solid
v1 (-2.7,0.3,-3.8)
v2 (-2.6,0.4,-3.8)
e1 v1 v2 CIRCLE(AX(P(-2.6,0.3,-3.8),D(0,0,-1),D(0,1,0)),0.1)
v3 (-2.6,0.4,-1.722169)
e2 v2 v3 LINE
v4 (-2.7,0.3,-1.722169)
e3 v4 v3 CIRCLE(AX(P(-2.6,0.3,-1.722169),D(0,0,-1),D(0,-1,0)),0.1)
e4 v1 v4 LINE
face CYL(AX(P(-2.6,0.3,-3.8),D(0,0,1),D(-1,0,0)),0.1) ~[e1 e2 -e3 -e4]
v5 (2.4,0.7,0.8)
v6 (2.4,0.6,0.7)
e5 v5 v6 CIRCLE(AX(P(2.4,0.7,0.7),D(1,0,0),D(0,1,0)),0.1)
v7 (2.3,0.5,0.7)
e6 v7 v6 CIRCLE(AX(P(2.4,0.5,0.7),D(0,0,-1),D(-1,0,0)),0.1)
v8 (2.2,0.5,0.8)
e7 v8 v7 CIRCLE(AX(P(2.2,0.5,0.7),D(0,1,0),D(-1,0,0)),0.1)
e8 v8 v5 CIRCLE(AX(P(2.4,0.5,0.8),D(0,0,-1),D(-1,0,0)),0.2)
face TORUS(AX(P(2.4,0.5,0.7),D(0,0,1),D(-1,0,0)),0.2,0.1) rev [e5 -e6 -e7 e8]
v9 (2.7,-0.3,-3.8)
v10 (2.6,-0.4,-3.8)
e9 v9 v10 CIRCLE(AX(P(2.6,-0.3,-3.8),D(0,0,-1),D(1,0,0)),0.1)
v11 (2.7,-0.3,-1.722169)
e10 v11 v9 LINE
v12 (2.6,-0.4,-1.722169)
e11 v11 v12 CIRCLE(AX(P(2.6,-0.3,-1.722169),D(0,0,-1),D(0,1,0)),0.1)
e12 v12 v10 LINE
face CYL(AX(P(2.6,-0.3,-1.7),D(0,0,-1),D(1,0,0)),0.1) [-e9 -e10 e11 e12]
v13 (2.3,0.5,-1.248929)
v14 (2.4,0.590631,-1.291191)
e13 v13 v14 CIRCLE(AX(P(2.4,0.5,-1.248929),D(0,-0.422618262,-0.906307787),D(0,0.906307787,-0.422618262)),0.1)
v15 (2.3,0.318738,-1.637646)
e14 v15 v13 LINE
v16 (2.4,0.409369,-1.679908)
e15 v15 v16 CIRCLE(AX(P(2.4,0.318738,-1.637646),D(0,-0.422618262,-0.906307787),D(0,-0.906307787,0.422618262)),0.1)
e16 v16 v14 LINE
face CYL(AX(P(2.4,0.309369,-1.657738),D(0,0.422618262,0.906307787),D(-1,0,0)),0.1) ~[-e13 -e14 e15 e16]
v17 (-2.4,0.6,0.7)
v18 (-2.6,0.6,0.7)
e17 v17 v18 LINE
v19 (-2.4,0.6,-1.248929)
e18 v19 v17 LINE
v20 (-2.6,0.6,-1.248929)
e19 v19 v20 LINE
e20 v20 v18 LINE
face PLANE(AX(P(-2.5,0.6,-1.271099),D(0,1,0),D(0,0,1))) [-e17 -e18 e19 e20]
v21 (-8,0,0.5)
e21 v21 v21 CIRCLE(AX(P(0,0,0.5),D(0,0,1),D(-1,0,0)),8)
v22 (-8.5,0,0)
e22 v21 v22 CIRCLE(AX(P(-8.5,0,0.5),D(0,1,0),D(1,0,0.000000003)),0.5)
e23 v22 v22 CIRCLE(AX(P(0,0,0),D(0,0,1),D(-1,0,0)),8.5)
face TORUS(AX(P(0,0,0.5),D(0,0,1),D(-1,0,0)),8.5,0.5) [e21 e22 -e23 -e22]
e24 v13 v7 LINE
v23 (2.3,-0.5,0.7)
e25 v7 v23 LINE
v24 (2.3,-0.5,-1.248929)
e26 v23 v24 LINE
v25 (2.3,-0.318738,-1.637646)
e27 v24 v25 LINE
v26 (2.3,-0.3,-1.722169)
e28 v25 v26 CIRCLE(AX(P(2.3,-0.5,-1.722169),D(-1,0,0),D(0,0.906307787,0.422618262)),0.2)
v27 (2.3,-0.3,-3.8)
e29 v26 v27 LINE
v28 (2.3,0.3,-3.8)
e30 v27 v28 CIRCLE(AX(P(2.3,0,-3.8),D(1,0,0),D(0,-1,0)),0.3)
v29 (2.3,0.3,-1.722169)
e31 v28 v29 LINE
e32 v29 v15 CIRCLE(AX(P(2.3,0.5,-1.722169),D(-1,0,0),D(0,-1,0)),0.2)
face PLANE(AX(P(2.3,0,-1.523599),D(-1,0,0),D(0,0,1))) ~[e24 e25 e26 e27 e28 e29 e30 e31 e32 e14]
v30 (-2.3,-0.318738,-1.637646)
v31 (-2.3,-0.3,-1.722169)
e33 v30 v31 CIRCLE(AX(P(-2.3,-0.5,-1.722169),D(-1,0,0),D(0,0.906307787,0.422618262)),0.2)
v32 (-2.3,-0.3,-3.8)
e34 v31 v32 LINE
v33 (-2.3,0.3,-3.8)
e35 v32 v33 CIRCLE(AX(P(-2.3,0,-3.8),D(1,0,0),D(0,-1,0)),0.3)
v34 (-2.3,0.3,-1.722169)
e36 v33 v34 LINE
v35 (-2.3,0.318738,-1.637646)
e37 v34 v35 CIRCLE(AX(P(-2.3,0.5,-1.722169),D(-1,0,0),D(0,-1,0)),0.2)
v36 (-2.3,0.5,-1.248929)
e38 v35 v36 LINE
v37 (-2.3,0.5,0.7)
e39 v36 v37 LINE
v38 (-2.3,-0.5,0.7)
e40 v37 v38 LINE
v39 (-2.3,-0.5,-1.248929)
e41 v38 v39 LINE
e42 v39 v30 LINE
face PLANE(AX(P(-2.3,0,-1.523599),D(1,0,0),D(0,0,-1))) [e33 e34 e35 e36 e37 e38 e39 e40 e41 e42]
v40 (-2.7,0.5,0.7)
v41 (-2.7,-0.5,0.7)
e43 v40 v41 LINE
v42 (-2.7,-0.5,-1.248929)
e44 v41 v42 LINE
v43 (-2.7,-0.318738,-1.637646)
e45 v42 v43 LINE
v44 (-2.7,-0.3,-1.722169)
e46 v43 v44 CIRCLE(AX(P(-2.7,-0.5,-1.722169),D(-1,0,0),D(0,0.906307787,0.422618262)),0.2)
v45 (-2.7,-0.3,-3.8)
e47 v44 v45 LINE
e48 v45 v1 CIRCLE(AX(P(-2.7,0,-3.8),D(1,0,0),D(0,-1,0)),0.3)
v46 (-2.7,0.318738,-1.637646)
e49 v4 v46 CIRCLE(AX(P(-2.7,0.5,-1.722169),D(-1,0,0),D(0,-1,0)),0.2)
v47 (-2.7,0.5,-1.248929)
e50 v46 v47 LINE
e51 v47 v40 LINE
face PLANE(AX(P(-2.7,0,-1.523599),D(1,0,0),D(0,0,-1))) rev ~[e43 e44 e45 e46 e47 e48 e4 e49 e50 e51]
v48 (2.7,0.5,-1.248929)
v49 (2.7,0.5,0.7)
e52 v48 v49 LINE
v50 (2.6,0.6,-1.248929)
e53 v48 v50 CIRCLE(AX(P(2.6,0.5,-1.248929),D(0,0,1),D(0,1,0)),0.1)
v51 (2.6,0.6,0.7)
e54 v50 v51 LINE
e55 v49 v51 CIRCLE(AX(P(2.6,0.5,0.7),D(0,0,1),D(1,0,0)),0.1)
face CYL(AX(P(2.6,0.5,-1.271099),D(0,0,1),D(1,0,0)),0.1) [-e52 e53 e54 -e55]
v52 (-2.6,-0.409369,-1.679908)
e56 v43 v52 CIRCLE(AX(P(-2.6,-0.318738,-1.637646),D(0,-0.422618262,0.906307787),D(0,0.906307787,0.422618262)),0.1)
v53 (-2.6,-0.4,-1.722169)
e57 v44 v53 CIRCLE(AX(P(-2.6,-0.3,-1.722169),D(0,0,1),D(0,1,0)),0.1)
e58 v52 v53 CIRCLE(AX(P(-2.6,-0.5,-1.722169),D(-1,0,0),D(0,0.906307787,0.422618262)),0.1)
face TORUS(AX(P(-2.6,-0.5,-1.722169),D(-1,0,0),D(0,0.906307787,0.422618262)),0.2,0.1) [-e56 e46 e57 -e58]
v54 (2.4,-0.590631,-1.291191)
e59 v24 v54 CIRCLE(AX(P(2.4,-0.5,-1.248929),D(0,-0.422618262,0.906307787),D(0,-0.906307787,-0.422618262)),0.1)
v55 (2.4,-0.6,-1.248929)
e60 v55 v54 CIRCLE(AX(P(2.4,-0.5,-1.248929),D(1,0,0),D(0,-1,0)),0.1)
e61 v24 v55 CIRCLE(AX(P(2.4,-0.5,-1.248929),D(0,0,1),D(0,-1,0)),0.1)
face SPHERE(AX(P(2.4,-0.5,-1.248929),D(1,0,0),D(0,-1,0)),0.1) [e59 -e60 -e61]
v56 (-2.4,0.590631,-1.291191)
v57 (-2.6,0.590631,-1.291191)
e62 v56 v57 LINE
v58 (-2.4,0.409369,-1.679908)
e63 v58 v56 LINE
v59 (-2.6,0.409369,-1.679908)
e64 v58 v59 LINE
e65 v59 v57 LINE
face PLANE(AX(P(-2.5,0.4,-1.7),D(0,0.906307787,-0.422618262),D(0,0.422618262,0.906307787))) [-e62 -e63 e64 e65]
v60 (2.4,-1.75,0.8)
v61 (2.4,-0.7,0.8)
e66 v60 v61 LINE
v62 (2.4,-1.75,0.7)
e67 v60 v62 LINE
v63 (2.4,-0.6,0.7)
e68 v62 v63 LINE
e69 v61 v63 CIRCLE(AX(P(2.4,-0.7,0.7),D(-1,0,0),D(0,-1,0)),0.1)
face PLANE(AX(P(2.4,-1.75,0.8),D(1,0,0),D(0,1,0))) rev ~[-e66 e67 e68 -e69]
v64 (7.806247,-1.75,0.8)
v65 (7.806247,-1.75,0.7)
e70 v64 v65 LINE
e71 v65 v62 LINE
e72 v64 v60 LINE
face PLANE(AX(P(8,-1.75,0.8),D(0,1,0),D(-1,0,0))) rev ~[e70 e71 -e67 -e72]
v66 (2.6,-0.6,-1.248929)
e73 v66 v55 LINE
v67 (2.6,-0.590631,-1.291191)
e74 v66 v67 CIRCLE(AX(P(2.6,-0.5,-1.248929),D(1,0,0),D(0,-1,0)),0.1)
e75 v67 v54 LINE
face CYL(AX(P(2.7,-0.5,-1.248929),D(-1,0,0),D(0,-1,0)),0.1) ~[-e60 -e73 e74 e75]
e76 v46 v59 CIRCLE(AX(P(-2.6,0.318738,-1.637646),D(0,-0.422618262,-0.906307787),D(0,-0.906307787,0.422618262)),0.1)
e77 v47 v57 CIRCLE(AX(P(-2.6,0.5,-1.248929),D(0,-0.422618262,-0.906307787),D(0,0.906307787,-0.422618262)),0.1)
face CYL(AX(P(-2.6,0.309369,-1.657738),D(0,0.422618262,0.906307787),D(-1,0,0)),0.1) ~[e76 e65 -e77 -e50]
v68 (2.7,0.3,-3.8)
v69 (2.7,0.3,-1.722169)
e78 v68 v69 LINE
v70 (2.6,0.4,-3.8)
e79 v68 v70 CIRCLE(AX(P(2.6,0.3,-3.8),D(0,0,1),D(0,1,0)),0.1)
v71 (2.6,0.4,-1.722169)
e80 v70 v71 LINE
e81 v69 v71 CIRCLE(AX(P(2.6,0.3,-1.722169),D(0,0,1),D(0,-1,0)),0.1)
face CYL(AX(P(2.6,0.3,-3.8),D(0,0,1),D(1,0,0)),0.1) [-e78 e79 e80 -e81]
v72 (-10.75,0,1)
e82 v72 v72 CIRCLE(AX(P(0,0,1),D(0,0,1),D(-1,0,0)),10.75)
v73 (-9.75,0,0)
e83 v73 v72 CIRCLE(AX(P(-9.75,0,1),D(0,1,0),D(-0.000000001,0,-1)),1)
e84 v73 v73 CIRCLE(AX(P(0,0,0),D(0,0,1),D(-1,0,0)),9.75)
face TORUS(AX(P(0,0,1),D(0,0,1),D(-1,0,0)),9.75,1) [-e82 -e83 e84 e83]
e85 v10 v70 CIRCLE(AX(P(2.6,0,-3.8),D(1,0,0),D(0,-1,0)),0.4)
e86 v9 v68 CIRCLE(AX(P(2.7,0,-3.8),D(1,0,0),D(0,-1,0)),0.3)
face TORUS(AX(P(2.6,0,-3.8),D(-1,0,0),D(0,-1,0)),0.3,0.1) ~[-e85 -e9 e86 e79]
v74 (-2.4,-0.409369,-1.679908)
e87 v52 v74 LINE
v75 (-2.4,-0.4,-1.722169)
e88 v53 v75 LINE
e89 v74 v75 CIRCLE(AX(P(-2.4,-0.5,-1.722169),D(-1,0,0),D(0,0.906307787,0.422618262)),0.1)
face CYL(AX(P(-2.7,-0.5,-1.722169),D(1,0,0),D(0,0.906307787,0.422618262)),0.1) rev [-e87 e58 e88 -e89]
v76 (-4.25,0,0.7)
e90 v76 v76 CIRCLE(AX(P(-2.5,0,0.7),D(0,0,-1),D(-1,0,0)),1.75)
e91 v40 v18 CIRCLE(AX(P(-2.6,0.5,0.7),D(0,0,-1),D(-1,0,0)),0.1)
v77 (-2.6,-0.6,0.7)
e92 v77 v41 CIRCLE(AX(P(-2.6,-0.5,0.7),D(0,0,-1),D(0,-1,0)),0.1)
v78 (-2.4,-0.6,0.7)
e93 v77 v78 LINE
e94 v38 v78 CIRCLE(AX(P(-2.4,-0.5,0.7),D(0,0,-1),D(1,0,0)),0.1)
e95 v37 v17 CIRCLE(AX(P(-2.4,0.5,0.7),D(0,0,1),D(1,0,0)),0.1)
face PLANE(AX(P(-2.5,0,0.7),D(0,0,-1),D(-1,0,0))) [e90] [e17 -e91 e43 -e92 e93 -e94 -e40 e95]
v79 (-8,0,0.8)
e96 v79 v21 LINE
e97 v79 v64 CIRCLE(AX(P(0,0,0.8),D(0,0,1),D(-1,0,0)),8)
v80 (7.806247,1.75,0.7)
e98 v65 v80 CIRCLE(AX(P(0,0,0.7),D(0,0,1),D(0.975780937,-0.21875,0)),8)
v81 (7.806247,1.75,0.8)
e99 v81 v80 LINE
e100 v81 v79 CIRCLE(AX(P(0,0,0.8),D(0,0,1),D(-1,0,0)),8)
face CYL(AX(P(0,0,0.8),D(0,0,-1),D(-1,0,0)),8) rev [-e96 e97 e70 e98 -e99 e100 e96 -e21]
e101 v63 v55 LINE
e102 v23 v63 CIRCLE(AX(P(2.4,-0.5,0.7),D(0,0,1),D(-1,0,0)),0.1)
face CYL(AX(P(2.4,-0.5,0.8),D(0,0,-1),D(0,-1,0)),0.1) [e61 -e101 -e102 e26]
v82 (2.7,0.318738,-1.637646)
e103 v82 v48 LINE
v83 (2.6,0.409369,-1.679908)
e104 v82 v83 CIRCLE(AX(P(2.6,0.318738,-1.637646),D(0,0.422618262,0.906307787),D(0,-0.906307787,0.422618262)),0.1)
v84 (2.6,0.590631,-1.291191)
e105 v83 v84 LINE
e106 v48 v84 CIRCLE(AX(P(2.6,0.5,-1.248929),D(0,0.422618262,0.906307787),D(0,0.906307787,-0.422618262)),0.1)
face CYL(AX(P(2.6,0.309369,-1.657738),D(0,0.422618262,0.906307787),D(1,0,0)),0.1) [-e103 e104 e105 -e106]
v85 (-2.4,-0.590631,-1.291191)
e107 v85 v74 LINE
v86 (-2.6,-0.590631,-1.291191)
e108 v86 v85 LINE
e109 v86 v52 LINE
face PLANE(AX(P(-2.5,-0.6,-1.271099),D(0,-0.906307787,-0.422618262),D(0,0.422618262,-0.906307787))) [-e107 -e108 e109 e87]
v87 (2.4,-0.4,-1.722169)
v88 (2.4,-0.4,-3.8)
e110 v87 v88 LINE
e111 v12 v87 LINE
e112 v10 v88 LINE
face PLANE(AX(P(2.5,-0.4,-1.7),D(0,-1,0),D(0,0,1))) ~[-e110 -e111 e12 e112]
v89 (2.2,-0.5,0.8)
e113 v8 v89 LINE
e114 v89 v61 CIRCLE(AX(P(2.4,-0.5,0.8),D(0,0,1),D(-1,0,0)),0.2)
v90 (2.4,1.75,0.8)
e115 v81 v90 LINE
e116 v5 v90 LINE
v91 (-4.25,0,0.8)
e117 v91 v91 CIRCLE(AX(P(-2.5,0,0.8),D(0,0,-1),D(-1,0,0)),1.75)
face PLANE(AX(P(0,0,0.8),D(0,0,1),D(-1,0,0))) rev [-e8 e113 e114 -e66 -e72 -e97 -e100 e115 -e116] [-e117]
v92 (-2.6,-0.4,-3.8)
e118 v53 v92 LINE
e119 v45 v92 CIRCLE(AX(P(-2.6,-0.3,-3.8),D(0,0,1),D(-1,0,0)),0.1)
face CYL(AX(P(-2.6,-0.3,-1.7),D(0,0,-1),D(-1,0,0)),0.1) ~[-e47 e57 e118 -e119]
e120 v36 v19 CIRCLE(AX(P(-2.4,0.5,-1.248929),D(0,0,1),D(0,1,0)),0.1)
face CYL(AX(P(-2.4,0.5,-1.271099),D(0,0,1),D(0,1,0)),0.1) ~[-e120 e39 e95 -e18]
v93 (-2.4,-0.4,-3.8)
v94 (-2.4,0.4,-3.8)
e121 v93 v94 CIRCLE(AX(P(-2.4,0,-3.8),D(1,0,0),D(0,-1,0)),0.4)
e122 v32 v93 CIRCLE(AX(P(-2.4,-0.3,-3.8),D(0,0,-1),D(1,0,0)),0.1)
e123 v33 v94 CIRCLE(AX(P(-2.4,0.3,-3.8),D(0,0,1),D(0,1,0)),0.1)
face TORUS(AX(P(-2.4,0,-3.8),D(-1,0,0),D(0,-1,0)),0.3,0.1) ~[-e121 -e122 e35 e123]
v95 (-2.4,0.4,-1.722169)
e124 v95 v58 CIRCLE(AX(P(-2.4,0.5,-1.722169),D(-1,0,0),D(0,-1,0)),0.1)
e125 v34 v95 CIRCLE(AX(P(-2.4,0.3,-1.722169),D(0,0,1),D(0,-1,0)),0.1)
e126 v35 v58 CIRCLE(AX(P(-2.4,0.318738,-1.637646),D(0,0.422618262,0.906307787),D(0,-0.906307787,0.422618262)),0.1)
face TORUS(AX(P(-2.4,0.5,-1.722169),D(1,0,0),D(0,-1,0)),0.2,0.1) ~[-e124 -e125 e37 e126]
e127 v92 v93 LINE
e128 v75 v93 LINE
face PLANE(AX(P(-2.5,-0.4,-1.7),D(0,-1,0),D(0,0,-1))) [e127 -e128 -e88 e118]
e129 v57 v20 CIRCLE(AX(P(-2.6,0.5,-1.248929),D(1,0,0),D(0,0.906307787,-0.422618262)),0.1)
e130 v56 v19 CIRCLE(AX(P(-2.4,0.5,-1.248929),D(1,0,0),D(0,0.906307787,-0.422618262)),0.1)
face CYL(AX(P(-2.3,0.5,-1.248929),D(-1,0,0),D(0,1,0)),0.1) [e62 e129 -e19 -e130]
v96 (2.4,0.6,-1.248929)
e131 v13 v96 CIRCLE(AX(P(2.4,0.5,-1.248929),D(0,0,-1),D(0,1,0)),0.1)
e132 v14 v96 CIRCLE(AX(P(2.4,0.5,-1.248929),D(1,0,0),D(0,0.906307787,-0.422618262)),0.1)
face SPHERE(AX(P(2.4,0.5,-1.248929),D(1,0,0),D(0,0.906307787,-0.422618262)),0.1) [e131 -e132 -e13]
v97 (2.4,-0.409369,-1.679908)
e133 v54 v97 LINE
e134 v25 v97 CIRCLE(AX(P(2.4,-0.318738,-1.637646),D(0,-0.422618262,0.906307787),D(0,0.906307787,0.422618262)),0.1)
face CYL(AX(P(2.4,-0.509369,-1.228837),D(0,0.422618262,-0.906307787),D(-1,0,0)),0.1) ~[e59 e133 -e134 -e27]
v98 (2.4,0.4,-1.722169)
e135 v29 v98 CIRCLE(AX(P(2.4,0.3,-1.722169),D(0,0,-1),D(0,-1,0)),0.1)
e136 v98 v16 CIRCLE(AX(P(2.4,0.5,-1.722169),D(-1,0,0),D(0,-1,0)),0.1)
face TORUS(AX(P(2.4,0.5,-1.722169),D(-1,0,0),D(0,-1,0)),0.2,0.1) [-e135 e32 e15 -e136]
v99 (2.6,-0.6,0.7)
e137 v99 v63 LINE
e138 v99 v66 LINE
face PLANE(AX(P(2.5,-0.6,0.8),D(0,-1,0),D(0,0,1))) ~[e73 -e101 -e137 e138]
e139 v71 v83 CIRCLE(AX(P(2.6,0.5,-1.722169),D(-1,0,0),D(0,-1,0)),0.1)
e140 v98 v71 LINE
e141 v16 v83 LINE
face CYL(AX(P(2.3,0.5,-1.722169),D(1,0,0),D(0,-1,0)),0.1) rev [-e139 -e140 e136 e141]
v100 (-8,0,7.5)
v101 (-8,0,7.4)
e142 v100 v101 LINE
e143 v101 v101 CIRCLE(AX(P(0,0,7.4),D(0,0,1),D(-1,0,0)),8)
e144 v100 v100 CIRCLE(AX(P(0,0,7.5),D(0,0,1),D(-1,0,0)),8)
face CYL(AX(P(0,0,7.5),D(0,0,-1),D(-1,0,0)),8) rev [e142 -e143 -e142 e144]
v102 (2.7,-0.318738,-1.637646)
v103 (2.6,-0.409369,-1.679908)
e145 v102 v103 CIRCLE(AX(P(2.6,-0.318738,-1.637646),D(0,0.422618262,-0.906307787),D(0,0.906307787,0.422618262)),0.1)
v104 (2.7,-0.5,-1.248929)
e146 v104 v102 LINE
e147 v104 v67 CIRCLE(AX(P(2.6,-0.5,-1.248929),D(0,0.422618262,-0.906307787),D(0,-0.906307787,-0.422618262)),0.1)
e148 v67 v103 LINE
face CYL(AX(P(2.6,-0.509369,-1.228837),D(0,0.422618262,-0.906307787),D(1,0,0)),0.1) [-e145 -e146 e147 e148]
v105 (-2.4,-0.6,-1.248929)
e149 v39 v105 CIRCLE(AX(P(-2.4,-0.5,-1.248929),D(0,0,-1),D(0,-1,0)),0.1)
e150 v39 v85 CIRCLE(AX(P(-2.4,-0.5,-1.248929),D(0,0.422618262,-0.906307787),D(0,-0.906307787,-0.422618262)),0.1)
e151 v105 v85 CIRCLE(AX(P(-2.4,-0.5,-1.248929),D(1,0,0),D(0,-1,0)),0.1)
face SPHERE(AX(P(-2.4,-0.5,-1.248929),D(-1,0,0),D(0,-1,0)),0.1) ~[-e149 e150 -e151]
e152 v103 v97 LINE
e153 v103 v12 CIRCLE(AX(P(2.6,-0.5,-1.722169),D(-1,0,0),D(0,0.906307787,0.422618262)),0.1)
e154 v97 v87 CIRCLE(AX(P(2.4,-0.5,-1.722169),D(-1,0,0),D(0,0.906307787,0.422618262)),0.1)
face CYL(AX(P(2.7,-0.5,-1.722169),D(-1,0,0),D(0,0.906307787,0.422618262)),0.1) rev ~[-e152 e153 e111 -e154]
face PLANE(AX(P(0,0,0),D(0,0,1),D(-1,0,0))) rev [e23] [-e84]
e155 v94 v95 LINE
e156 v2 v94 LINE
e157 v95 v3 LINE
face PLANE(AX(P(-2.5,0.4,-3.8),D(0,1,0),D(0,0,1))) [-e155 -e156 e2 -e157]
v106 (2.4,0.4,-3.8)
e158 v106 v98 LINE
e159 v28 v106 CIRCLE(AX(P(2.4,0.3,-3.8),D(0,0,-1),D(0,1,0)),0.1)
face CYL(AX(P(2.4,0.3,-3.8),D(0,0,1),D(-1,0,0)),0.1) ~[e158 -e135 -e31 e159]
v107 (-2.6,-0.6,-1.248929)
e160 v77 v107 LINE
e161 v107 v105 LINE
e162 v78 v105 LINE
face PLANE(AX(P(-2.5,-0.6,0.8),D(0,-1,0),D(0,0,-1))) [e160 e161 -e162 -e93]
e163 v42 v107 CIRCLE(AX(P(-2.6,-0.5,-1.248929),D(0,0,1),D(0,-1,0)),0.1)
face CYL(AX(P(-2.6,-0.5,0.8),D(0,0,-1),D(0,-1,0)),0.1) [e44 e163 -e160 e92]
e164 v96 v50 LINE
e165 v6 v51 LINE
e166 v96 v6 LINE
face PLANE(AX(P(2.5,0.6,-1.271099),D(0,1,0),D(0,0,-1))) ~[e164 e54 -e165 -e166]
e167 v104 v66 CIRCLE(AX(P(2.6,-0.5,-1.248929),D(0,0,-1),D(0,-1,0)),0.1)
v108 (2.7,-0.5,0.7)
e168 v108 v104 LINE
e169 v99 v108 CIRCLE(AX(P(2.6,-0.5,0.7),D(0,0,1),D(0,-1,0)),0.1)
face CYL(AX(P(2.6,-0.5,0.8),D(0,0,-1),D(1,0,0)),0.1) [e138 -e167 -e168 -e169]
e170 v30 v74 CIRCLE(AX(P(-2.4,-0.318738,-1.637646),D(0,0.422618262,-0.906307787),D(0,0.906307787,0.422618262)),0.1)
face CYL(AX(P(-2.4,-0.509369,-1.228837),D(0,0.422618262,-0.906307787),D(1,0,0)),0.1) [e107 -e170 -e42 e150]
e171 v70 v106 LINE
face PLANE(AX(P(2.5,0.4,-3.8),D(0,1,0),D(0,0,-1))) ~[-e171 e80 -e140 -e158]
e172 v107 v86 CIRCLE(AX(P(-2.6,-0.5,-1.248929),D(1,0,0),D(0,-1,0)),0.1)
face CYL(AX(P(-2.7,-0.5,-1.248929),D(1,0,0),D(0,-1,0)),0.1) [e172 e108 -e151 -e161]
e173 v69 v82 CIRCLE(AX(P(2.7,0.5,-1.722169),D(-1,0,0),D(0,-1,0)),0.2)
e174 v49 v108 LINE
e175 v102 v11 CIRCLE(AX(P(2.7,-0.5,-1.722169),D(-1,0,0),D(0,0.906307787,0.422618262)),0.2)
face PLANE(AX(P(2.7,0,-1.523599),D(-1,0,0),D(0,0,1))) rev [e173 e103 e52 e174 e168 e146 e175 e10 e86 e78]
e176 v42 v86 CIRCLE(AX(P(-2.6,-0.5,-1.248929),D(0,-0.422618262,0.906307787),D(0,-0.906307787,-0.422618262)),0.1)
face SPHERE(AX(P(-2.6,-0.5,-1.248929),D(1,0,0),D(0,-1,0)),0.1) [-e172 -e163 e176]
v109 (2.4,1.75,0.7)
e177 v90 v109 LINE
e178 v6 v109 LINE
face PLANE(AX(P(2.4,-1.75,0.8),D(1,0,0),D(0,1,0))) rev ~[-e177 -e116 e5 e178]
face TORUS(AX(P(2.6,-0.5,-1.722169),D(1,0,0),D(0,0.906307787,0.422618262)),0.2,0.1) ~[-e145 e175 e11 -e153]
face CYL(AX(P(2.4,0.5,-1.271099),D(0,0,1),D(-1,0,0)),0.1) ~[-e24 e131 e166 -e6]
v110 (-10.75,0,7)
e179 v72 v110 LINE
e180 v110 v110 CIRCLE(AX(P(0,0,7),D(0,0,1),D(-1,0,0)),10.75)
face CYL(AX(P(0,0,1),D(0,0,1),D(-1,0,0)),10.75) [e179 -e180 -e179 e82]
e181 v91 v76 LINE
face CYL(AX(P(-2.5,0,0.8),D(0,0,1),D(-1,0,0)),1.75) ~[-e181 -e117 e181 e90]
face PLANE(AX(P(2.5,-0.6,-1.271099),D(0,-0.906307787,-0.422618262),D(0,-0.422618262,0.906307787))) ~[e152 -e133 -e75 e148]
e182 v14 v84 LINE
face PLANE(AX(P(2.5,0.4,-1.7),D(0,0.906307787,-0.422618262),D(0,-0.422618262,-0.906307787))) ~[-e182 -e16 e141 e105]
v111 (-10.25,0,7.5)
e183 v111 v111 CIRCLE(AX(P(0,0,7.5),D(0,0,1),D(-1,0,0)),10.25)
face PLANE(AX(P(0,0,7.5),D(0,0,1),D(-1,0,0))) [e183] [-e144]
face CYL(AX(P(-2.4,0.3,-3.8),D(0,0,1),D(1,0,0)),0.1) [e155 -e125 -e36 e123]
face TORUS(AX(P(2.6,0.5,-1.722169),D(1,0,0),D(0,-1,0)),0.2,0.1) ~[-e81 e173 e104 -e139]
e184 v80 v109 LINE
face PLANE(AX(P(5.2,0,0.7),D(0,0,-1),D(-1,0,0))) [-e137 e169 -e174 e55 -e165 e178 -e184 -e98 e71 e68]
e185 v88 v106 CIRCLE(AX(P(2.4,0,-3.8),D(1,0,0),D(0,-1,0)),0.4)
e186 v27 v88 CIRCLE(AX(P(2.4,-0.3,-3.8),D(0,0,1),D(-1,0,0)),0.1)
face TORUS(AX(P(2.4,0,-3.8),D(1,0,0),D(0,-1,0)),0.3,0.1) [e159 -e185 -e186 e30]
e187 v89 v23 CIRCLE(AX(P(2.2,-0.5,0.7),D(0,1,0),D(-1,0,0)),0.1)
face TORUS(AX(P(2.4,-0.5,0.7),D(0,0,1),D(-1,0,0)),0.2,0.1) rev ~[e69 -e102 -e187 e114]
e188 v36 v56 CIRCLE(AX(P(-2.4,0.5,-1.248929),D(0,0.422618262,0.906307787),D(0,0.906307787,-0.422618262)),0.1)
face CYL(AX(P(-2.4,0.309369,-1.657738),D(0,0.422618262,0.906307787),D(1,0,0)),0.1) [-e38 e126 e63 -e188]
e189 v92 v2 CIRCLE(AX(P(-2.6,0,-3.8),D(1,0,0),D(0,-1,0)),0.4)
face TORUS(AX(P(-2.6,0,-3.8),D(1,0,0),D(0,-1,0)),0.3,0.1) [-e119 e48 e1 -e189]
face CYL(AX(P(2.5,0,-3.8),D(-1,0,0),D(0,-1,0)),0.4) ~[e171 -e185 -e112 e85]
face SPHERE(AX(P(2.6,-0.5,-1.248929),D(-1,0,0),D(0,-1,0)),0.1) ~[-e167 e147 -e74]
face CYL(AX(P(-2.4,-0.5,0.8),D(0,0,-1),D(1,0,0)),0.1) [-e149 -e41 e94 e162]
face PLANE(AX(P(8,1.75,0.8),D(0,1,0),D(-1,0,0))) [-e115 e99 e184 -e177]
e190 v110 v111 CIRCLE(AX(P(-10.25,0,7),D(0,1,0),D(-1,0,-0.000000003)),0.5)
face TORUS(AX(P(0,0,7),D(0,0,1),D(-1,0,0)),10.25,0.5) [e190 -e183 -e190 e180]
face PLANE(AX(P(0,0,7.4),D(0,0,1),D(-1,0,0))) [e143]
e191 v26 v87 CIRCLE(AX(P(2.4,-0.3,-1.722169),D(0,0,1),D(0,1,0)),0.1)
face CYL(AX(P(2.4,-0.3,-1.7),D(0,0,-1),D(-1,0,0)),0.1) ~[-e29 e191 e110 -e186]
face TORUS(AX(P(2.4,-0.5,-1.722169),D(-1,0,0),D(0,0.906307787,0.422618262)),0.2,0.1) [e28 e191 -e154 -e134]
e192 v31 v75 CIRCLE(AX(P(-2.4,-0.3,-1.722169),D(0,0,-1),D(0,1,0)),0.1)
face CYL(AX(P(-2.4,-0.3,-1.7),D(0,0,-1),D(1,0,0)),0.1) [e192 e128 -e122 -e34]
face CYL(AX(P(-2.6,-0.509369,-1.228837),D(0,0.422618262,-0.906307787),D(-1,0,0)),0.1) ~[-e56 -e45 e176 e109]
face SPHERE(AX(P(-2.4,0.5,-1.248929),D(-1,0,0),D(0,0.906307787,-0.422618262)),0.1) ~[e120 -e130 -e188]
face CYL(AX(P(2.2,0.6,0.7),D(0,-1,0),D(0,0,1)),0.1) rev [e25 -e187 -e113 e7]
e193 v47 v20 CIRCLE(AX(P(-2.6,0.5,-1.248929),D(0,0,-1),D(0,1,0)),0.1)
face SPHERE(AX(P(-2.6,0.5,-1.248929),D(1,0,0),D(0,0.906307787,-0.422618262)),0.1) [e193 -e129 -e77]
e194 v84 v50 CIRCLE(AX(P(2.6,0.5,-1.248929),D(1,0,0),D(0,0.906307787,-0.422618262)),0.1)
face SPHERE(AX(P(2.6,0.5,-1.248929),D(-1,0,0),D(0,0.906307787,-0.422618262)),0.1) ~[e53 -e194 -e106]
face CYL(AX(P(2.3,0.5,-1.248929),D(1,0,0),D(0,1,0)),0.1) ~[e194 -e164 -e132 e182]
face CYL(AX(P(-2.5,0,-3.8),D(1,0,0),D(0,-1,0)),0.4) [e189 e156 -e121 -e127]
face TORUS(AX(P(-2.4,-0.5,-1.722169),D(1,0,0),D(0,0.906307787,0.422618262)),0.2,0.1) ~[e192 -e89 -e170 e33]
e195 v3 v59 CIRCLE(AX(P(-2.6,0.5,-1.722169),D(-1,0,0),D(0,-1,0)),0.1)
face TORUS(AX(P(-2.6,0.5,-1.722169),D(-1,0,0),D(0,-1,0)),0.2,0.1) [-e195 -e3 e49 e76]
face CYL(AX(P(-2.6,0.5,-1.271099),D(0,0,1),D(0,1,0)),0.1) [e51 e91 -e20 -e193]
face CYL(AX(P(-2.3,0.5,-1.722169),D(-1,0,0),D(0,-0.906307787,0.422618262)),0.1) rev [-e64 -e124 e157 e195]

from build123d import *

# Parameters (mm, degrees)
EXTRUDE_1_DEPTH        = 0.2
FILLET_1_R             = 0.1
FILLET_1_OF_MIRROR_1_R = 0.1
SKETCH_10_R            = 1.75
SKETCH_10_W            = 5.6
SKETCH_10_H            = 3.5
EXTRUDE_2_DEPTH        = 0.1


with BuildPart() as part:
    # Эскиз1 → Повернуть1 (revolve)
    with BuildSketch(Plane(origin=(0, 0, 0), x_dir=(1, 0, 0), z_dir=(0, 1, 0))):
        with BuildLine():
            Line((0, -0.8), (-8, -0.8))
            Line((-8, -0.8), (-8, -0.5))
            ThreePointArc((-8, -0.5), (-8.146446609, -0.146446609), (-8.5, 0))
            Line((-8.5, 0), (-9.75, 0))
            ThreePointArc((-9.75, 0), (-10.457106781, -0.292893219), (-10.75, -1))
            Line((-10.75, -1), (-10.75, -7))
            ThreePointArc((-10.75, -7), (-10.603553391, -7.353553391), (-10.25, -7.5))
            Line((-10.25, -7.5), (-8, -7.5))
            Line((-8, -7.5), (-8, -7.4))
            Line((-8, -7.4), (0, -7.4))
            Line((0, -7.4), (0, -0.8))
        make_face()
    revolve(axis=Axis((0, 0, 0), (0, 0, 1)))

    # Эскиз9 → Бобышка-Вытянуть1 (add, symmetric)
    with BuildSketch(Plane(origin=(-2.5, 0, 0), x_dir=(0, 0, -1), z_dir=(1, 0, 0))):
        with BuildLine():
            Line((-0.8, 0.6), (-0.8, -0.6))
            Line((-0.8, -0.6), (1.271098616, -0.6))
            Line((1.271098616, -0.6), (1.7, -0.4))
            Line((1.7, -0.4), (3.8, -0.4))
            ThreePointArc((3.8, -0.4), (4.2, 0), (3.8, 0.4))
            Line((3.8, 0.4), (1.7, 0.4))
            Line((1.7, 0.4), (1.271098616, 0.6))
            Line((1.271098616, 0.6), (-0.8, 0.6))
        make_face()
    extrude_1 = extrude(amount=EXTRUDE_1_DEPTH, both=True)

    # Скругление1
    fillet_1_edges = [part.edges().sort_by_distance(p)[0] for p in [
        (-2.7, -0.6, -0.235549308),
        (-2.5, -0.6, 0.8),
        (-2.7, -0.5, -1.485549308),
        (-2.5, -0.6, -1.271098616),
        (-2.7, -0.4, -2.75),
        (-2.5, -0.4, -1.7),
        (-2.7, 0, -4.2),
        (-2.7, 0.4, -2.75),
        (-2.7, 0.5, -1.485549308),
        (-2.5, 0.4, -1.7),
        (-2.7, 0.6, -0.235549308),
        (-2.5, 0.6, -1.271098616),
        (-2.7, 0, 0.8),
        (-2.5, 0.6, 0.8),
        (-2.3, -0.6, -0.235549308),
        (-2.3, -0.5, -1.485549308),
        (-2.3, -0.4, -2.75),
        (-2.3, 0, -4.2),
        (-2.3, 0.4, -2.75),
        (-2.3, 0.5, -1.485549308),
        (-2.3, 0.6, -0.235549308),
        (-2.3, 0, 0.8),
    ]]
    fillet(fillet_1_edges, radius=FILLET_1_R)

    # Зеркальное отражение1: Бобышка-Вытянуть1 across plane
    add(extrude_1.mirror(Plane(origin=(0, 0, 0), x_dir=(0, 0, 1), z_dir=(1, 0, 0))))

    # Скругление1 of Зеркальное отражение1
    fillet_1_of_mirror_1_edges = [part.edges().sort_by_distance(p)[0] for p in [
        (2.7, -0.6, -0.235549308),
        (2.5, -0.6, 0.8),
        (2.7, -0.5, -1.485549308),
        (2.5, -0.6, -1.271098616),
        (2.7, -0.4, -2.75),
        (2.5, -0.4, -1.7),
        (2.7, 0, -4.2),
        (2.7, 0.4, -2.75),
        (2.7, 0.5, -1.485549308),
        (2.5, 0.4, -1.7),
        (2.7, 0.6, -0.235549308),
        (2.5, 0.6, -1.271098616),
        (2.7, 0, 0.8),
        (2.5, 0.6, 0.8),
        (2.3, -0.6, -0.235549308),
        (2.3, -0.5, -1.485549308),
        (2.3, -0.4, -2.75),
        (2.3, 0, -4.2),
        (2.3, 0.4, -2.75),
        (2.3, 0.5, -1.485549308),
        (2.3, 0.6, -0.235549308),
        (2.3, 0, 0.8),
    ]]
    fillet(fillet_1_of_mirror_1_edges, radius=FILLET_1_OF_MIRROR_1_R)

    # Эскиз10 → Бобышка-Вытянуть2 (add)
    with BuildSketch(Plane(origin=(0, 0, 0.8), x_dir=(-1, 0, 0), z_dir=(0, 0, -1))):
        with Locations((2.5, 0)):
            Circle(SKETCH_10_R)
        with Locations((-5.2, 0)):
            Rectangle(SKETCH_10_W, SKETCH_10_H)
    extrude(amount=EXTRUDE_2_DEPTH)


solid = part.part
